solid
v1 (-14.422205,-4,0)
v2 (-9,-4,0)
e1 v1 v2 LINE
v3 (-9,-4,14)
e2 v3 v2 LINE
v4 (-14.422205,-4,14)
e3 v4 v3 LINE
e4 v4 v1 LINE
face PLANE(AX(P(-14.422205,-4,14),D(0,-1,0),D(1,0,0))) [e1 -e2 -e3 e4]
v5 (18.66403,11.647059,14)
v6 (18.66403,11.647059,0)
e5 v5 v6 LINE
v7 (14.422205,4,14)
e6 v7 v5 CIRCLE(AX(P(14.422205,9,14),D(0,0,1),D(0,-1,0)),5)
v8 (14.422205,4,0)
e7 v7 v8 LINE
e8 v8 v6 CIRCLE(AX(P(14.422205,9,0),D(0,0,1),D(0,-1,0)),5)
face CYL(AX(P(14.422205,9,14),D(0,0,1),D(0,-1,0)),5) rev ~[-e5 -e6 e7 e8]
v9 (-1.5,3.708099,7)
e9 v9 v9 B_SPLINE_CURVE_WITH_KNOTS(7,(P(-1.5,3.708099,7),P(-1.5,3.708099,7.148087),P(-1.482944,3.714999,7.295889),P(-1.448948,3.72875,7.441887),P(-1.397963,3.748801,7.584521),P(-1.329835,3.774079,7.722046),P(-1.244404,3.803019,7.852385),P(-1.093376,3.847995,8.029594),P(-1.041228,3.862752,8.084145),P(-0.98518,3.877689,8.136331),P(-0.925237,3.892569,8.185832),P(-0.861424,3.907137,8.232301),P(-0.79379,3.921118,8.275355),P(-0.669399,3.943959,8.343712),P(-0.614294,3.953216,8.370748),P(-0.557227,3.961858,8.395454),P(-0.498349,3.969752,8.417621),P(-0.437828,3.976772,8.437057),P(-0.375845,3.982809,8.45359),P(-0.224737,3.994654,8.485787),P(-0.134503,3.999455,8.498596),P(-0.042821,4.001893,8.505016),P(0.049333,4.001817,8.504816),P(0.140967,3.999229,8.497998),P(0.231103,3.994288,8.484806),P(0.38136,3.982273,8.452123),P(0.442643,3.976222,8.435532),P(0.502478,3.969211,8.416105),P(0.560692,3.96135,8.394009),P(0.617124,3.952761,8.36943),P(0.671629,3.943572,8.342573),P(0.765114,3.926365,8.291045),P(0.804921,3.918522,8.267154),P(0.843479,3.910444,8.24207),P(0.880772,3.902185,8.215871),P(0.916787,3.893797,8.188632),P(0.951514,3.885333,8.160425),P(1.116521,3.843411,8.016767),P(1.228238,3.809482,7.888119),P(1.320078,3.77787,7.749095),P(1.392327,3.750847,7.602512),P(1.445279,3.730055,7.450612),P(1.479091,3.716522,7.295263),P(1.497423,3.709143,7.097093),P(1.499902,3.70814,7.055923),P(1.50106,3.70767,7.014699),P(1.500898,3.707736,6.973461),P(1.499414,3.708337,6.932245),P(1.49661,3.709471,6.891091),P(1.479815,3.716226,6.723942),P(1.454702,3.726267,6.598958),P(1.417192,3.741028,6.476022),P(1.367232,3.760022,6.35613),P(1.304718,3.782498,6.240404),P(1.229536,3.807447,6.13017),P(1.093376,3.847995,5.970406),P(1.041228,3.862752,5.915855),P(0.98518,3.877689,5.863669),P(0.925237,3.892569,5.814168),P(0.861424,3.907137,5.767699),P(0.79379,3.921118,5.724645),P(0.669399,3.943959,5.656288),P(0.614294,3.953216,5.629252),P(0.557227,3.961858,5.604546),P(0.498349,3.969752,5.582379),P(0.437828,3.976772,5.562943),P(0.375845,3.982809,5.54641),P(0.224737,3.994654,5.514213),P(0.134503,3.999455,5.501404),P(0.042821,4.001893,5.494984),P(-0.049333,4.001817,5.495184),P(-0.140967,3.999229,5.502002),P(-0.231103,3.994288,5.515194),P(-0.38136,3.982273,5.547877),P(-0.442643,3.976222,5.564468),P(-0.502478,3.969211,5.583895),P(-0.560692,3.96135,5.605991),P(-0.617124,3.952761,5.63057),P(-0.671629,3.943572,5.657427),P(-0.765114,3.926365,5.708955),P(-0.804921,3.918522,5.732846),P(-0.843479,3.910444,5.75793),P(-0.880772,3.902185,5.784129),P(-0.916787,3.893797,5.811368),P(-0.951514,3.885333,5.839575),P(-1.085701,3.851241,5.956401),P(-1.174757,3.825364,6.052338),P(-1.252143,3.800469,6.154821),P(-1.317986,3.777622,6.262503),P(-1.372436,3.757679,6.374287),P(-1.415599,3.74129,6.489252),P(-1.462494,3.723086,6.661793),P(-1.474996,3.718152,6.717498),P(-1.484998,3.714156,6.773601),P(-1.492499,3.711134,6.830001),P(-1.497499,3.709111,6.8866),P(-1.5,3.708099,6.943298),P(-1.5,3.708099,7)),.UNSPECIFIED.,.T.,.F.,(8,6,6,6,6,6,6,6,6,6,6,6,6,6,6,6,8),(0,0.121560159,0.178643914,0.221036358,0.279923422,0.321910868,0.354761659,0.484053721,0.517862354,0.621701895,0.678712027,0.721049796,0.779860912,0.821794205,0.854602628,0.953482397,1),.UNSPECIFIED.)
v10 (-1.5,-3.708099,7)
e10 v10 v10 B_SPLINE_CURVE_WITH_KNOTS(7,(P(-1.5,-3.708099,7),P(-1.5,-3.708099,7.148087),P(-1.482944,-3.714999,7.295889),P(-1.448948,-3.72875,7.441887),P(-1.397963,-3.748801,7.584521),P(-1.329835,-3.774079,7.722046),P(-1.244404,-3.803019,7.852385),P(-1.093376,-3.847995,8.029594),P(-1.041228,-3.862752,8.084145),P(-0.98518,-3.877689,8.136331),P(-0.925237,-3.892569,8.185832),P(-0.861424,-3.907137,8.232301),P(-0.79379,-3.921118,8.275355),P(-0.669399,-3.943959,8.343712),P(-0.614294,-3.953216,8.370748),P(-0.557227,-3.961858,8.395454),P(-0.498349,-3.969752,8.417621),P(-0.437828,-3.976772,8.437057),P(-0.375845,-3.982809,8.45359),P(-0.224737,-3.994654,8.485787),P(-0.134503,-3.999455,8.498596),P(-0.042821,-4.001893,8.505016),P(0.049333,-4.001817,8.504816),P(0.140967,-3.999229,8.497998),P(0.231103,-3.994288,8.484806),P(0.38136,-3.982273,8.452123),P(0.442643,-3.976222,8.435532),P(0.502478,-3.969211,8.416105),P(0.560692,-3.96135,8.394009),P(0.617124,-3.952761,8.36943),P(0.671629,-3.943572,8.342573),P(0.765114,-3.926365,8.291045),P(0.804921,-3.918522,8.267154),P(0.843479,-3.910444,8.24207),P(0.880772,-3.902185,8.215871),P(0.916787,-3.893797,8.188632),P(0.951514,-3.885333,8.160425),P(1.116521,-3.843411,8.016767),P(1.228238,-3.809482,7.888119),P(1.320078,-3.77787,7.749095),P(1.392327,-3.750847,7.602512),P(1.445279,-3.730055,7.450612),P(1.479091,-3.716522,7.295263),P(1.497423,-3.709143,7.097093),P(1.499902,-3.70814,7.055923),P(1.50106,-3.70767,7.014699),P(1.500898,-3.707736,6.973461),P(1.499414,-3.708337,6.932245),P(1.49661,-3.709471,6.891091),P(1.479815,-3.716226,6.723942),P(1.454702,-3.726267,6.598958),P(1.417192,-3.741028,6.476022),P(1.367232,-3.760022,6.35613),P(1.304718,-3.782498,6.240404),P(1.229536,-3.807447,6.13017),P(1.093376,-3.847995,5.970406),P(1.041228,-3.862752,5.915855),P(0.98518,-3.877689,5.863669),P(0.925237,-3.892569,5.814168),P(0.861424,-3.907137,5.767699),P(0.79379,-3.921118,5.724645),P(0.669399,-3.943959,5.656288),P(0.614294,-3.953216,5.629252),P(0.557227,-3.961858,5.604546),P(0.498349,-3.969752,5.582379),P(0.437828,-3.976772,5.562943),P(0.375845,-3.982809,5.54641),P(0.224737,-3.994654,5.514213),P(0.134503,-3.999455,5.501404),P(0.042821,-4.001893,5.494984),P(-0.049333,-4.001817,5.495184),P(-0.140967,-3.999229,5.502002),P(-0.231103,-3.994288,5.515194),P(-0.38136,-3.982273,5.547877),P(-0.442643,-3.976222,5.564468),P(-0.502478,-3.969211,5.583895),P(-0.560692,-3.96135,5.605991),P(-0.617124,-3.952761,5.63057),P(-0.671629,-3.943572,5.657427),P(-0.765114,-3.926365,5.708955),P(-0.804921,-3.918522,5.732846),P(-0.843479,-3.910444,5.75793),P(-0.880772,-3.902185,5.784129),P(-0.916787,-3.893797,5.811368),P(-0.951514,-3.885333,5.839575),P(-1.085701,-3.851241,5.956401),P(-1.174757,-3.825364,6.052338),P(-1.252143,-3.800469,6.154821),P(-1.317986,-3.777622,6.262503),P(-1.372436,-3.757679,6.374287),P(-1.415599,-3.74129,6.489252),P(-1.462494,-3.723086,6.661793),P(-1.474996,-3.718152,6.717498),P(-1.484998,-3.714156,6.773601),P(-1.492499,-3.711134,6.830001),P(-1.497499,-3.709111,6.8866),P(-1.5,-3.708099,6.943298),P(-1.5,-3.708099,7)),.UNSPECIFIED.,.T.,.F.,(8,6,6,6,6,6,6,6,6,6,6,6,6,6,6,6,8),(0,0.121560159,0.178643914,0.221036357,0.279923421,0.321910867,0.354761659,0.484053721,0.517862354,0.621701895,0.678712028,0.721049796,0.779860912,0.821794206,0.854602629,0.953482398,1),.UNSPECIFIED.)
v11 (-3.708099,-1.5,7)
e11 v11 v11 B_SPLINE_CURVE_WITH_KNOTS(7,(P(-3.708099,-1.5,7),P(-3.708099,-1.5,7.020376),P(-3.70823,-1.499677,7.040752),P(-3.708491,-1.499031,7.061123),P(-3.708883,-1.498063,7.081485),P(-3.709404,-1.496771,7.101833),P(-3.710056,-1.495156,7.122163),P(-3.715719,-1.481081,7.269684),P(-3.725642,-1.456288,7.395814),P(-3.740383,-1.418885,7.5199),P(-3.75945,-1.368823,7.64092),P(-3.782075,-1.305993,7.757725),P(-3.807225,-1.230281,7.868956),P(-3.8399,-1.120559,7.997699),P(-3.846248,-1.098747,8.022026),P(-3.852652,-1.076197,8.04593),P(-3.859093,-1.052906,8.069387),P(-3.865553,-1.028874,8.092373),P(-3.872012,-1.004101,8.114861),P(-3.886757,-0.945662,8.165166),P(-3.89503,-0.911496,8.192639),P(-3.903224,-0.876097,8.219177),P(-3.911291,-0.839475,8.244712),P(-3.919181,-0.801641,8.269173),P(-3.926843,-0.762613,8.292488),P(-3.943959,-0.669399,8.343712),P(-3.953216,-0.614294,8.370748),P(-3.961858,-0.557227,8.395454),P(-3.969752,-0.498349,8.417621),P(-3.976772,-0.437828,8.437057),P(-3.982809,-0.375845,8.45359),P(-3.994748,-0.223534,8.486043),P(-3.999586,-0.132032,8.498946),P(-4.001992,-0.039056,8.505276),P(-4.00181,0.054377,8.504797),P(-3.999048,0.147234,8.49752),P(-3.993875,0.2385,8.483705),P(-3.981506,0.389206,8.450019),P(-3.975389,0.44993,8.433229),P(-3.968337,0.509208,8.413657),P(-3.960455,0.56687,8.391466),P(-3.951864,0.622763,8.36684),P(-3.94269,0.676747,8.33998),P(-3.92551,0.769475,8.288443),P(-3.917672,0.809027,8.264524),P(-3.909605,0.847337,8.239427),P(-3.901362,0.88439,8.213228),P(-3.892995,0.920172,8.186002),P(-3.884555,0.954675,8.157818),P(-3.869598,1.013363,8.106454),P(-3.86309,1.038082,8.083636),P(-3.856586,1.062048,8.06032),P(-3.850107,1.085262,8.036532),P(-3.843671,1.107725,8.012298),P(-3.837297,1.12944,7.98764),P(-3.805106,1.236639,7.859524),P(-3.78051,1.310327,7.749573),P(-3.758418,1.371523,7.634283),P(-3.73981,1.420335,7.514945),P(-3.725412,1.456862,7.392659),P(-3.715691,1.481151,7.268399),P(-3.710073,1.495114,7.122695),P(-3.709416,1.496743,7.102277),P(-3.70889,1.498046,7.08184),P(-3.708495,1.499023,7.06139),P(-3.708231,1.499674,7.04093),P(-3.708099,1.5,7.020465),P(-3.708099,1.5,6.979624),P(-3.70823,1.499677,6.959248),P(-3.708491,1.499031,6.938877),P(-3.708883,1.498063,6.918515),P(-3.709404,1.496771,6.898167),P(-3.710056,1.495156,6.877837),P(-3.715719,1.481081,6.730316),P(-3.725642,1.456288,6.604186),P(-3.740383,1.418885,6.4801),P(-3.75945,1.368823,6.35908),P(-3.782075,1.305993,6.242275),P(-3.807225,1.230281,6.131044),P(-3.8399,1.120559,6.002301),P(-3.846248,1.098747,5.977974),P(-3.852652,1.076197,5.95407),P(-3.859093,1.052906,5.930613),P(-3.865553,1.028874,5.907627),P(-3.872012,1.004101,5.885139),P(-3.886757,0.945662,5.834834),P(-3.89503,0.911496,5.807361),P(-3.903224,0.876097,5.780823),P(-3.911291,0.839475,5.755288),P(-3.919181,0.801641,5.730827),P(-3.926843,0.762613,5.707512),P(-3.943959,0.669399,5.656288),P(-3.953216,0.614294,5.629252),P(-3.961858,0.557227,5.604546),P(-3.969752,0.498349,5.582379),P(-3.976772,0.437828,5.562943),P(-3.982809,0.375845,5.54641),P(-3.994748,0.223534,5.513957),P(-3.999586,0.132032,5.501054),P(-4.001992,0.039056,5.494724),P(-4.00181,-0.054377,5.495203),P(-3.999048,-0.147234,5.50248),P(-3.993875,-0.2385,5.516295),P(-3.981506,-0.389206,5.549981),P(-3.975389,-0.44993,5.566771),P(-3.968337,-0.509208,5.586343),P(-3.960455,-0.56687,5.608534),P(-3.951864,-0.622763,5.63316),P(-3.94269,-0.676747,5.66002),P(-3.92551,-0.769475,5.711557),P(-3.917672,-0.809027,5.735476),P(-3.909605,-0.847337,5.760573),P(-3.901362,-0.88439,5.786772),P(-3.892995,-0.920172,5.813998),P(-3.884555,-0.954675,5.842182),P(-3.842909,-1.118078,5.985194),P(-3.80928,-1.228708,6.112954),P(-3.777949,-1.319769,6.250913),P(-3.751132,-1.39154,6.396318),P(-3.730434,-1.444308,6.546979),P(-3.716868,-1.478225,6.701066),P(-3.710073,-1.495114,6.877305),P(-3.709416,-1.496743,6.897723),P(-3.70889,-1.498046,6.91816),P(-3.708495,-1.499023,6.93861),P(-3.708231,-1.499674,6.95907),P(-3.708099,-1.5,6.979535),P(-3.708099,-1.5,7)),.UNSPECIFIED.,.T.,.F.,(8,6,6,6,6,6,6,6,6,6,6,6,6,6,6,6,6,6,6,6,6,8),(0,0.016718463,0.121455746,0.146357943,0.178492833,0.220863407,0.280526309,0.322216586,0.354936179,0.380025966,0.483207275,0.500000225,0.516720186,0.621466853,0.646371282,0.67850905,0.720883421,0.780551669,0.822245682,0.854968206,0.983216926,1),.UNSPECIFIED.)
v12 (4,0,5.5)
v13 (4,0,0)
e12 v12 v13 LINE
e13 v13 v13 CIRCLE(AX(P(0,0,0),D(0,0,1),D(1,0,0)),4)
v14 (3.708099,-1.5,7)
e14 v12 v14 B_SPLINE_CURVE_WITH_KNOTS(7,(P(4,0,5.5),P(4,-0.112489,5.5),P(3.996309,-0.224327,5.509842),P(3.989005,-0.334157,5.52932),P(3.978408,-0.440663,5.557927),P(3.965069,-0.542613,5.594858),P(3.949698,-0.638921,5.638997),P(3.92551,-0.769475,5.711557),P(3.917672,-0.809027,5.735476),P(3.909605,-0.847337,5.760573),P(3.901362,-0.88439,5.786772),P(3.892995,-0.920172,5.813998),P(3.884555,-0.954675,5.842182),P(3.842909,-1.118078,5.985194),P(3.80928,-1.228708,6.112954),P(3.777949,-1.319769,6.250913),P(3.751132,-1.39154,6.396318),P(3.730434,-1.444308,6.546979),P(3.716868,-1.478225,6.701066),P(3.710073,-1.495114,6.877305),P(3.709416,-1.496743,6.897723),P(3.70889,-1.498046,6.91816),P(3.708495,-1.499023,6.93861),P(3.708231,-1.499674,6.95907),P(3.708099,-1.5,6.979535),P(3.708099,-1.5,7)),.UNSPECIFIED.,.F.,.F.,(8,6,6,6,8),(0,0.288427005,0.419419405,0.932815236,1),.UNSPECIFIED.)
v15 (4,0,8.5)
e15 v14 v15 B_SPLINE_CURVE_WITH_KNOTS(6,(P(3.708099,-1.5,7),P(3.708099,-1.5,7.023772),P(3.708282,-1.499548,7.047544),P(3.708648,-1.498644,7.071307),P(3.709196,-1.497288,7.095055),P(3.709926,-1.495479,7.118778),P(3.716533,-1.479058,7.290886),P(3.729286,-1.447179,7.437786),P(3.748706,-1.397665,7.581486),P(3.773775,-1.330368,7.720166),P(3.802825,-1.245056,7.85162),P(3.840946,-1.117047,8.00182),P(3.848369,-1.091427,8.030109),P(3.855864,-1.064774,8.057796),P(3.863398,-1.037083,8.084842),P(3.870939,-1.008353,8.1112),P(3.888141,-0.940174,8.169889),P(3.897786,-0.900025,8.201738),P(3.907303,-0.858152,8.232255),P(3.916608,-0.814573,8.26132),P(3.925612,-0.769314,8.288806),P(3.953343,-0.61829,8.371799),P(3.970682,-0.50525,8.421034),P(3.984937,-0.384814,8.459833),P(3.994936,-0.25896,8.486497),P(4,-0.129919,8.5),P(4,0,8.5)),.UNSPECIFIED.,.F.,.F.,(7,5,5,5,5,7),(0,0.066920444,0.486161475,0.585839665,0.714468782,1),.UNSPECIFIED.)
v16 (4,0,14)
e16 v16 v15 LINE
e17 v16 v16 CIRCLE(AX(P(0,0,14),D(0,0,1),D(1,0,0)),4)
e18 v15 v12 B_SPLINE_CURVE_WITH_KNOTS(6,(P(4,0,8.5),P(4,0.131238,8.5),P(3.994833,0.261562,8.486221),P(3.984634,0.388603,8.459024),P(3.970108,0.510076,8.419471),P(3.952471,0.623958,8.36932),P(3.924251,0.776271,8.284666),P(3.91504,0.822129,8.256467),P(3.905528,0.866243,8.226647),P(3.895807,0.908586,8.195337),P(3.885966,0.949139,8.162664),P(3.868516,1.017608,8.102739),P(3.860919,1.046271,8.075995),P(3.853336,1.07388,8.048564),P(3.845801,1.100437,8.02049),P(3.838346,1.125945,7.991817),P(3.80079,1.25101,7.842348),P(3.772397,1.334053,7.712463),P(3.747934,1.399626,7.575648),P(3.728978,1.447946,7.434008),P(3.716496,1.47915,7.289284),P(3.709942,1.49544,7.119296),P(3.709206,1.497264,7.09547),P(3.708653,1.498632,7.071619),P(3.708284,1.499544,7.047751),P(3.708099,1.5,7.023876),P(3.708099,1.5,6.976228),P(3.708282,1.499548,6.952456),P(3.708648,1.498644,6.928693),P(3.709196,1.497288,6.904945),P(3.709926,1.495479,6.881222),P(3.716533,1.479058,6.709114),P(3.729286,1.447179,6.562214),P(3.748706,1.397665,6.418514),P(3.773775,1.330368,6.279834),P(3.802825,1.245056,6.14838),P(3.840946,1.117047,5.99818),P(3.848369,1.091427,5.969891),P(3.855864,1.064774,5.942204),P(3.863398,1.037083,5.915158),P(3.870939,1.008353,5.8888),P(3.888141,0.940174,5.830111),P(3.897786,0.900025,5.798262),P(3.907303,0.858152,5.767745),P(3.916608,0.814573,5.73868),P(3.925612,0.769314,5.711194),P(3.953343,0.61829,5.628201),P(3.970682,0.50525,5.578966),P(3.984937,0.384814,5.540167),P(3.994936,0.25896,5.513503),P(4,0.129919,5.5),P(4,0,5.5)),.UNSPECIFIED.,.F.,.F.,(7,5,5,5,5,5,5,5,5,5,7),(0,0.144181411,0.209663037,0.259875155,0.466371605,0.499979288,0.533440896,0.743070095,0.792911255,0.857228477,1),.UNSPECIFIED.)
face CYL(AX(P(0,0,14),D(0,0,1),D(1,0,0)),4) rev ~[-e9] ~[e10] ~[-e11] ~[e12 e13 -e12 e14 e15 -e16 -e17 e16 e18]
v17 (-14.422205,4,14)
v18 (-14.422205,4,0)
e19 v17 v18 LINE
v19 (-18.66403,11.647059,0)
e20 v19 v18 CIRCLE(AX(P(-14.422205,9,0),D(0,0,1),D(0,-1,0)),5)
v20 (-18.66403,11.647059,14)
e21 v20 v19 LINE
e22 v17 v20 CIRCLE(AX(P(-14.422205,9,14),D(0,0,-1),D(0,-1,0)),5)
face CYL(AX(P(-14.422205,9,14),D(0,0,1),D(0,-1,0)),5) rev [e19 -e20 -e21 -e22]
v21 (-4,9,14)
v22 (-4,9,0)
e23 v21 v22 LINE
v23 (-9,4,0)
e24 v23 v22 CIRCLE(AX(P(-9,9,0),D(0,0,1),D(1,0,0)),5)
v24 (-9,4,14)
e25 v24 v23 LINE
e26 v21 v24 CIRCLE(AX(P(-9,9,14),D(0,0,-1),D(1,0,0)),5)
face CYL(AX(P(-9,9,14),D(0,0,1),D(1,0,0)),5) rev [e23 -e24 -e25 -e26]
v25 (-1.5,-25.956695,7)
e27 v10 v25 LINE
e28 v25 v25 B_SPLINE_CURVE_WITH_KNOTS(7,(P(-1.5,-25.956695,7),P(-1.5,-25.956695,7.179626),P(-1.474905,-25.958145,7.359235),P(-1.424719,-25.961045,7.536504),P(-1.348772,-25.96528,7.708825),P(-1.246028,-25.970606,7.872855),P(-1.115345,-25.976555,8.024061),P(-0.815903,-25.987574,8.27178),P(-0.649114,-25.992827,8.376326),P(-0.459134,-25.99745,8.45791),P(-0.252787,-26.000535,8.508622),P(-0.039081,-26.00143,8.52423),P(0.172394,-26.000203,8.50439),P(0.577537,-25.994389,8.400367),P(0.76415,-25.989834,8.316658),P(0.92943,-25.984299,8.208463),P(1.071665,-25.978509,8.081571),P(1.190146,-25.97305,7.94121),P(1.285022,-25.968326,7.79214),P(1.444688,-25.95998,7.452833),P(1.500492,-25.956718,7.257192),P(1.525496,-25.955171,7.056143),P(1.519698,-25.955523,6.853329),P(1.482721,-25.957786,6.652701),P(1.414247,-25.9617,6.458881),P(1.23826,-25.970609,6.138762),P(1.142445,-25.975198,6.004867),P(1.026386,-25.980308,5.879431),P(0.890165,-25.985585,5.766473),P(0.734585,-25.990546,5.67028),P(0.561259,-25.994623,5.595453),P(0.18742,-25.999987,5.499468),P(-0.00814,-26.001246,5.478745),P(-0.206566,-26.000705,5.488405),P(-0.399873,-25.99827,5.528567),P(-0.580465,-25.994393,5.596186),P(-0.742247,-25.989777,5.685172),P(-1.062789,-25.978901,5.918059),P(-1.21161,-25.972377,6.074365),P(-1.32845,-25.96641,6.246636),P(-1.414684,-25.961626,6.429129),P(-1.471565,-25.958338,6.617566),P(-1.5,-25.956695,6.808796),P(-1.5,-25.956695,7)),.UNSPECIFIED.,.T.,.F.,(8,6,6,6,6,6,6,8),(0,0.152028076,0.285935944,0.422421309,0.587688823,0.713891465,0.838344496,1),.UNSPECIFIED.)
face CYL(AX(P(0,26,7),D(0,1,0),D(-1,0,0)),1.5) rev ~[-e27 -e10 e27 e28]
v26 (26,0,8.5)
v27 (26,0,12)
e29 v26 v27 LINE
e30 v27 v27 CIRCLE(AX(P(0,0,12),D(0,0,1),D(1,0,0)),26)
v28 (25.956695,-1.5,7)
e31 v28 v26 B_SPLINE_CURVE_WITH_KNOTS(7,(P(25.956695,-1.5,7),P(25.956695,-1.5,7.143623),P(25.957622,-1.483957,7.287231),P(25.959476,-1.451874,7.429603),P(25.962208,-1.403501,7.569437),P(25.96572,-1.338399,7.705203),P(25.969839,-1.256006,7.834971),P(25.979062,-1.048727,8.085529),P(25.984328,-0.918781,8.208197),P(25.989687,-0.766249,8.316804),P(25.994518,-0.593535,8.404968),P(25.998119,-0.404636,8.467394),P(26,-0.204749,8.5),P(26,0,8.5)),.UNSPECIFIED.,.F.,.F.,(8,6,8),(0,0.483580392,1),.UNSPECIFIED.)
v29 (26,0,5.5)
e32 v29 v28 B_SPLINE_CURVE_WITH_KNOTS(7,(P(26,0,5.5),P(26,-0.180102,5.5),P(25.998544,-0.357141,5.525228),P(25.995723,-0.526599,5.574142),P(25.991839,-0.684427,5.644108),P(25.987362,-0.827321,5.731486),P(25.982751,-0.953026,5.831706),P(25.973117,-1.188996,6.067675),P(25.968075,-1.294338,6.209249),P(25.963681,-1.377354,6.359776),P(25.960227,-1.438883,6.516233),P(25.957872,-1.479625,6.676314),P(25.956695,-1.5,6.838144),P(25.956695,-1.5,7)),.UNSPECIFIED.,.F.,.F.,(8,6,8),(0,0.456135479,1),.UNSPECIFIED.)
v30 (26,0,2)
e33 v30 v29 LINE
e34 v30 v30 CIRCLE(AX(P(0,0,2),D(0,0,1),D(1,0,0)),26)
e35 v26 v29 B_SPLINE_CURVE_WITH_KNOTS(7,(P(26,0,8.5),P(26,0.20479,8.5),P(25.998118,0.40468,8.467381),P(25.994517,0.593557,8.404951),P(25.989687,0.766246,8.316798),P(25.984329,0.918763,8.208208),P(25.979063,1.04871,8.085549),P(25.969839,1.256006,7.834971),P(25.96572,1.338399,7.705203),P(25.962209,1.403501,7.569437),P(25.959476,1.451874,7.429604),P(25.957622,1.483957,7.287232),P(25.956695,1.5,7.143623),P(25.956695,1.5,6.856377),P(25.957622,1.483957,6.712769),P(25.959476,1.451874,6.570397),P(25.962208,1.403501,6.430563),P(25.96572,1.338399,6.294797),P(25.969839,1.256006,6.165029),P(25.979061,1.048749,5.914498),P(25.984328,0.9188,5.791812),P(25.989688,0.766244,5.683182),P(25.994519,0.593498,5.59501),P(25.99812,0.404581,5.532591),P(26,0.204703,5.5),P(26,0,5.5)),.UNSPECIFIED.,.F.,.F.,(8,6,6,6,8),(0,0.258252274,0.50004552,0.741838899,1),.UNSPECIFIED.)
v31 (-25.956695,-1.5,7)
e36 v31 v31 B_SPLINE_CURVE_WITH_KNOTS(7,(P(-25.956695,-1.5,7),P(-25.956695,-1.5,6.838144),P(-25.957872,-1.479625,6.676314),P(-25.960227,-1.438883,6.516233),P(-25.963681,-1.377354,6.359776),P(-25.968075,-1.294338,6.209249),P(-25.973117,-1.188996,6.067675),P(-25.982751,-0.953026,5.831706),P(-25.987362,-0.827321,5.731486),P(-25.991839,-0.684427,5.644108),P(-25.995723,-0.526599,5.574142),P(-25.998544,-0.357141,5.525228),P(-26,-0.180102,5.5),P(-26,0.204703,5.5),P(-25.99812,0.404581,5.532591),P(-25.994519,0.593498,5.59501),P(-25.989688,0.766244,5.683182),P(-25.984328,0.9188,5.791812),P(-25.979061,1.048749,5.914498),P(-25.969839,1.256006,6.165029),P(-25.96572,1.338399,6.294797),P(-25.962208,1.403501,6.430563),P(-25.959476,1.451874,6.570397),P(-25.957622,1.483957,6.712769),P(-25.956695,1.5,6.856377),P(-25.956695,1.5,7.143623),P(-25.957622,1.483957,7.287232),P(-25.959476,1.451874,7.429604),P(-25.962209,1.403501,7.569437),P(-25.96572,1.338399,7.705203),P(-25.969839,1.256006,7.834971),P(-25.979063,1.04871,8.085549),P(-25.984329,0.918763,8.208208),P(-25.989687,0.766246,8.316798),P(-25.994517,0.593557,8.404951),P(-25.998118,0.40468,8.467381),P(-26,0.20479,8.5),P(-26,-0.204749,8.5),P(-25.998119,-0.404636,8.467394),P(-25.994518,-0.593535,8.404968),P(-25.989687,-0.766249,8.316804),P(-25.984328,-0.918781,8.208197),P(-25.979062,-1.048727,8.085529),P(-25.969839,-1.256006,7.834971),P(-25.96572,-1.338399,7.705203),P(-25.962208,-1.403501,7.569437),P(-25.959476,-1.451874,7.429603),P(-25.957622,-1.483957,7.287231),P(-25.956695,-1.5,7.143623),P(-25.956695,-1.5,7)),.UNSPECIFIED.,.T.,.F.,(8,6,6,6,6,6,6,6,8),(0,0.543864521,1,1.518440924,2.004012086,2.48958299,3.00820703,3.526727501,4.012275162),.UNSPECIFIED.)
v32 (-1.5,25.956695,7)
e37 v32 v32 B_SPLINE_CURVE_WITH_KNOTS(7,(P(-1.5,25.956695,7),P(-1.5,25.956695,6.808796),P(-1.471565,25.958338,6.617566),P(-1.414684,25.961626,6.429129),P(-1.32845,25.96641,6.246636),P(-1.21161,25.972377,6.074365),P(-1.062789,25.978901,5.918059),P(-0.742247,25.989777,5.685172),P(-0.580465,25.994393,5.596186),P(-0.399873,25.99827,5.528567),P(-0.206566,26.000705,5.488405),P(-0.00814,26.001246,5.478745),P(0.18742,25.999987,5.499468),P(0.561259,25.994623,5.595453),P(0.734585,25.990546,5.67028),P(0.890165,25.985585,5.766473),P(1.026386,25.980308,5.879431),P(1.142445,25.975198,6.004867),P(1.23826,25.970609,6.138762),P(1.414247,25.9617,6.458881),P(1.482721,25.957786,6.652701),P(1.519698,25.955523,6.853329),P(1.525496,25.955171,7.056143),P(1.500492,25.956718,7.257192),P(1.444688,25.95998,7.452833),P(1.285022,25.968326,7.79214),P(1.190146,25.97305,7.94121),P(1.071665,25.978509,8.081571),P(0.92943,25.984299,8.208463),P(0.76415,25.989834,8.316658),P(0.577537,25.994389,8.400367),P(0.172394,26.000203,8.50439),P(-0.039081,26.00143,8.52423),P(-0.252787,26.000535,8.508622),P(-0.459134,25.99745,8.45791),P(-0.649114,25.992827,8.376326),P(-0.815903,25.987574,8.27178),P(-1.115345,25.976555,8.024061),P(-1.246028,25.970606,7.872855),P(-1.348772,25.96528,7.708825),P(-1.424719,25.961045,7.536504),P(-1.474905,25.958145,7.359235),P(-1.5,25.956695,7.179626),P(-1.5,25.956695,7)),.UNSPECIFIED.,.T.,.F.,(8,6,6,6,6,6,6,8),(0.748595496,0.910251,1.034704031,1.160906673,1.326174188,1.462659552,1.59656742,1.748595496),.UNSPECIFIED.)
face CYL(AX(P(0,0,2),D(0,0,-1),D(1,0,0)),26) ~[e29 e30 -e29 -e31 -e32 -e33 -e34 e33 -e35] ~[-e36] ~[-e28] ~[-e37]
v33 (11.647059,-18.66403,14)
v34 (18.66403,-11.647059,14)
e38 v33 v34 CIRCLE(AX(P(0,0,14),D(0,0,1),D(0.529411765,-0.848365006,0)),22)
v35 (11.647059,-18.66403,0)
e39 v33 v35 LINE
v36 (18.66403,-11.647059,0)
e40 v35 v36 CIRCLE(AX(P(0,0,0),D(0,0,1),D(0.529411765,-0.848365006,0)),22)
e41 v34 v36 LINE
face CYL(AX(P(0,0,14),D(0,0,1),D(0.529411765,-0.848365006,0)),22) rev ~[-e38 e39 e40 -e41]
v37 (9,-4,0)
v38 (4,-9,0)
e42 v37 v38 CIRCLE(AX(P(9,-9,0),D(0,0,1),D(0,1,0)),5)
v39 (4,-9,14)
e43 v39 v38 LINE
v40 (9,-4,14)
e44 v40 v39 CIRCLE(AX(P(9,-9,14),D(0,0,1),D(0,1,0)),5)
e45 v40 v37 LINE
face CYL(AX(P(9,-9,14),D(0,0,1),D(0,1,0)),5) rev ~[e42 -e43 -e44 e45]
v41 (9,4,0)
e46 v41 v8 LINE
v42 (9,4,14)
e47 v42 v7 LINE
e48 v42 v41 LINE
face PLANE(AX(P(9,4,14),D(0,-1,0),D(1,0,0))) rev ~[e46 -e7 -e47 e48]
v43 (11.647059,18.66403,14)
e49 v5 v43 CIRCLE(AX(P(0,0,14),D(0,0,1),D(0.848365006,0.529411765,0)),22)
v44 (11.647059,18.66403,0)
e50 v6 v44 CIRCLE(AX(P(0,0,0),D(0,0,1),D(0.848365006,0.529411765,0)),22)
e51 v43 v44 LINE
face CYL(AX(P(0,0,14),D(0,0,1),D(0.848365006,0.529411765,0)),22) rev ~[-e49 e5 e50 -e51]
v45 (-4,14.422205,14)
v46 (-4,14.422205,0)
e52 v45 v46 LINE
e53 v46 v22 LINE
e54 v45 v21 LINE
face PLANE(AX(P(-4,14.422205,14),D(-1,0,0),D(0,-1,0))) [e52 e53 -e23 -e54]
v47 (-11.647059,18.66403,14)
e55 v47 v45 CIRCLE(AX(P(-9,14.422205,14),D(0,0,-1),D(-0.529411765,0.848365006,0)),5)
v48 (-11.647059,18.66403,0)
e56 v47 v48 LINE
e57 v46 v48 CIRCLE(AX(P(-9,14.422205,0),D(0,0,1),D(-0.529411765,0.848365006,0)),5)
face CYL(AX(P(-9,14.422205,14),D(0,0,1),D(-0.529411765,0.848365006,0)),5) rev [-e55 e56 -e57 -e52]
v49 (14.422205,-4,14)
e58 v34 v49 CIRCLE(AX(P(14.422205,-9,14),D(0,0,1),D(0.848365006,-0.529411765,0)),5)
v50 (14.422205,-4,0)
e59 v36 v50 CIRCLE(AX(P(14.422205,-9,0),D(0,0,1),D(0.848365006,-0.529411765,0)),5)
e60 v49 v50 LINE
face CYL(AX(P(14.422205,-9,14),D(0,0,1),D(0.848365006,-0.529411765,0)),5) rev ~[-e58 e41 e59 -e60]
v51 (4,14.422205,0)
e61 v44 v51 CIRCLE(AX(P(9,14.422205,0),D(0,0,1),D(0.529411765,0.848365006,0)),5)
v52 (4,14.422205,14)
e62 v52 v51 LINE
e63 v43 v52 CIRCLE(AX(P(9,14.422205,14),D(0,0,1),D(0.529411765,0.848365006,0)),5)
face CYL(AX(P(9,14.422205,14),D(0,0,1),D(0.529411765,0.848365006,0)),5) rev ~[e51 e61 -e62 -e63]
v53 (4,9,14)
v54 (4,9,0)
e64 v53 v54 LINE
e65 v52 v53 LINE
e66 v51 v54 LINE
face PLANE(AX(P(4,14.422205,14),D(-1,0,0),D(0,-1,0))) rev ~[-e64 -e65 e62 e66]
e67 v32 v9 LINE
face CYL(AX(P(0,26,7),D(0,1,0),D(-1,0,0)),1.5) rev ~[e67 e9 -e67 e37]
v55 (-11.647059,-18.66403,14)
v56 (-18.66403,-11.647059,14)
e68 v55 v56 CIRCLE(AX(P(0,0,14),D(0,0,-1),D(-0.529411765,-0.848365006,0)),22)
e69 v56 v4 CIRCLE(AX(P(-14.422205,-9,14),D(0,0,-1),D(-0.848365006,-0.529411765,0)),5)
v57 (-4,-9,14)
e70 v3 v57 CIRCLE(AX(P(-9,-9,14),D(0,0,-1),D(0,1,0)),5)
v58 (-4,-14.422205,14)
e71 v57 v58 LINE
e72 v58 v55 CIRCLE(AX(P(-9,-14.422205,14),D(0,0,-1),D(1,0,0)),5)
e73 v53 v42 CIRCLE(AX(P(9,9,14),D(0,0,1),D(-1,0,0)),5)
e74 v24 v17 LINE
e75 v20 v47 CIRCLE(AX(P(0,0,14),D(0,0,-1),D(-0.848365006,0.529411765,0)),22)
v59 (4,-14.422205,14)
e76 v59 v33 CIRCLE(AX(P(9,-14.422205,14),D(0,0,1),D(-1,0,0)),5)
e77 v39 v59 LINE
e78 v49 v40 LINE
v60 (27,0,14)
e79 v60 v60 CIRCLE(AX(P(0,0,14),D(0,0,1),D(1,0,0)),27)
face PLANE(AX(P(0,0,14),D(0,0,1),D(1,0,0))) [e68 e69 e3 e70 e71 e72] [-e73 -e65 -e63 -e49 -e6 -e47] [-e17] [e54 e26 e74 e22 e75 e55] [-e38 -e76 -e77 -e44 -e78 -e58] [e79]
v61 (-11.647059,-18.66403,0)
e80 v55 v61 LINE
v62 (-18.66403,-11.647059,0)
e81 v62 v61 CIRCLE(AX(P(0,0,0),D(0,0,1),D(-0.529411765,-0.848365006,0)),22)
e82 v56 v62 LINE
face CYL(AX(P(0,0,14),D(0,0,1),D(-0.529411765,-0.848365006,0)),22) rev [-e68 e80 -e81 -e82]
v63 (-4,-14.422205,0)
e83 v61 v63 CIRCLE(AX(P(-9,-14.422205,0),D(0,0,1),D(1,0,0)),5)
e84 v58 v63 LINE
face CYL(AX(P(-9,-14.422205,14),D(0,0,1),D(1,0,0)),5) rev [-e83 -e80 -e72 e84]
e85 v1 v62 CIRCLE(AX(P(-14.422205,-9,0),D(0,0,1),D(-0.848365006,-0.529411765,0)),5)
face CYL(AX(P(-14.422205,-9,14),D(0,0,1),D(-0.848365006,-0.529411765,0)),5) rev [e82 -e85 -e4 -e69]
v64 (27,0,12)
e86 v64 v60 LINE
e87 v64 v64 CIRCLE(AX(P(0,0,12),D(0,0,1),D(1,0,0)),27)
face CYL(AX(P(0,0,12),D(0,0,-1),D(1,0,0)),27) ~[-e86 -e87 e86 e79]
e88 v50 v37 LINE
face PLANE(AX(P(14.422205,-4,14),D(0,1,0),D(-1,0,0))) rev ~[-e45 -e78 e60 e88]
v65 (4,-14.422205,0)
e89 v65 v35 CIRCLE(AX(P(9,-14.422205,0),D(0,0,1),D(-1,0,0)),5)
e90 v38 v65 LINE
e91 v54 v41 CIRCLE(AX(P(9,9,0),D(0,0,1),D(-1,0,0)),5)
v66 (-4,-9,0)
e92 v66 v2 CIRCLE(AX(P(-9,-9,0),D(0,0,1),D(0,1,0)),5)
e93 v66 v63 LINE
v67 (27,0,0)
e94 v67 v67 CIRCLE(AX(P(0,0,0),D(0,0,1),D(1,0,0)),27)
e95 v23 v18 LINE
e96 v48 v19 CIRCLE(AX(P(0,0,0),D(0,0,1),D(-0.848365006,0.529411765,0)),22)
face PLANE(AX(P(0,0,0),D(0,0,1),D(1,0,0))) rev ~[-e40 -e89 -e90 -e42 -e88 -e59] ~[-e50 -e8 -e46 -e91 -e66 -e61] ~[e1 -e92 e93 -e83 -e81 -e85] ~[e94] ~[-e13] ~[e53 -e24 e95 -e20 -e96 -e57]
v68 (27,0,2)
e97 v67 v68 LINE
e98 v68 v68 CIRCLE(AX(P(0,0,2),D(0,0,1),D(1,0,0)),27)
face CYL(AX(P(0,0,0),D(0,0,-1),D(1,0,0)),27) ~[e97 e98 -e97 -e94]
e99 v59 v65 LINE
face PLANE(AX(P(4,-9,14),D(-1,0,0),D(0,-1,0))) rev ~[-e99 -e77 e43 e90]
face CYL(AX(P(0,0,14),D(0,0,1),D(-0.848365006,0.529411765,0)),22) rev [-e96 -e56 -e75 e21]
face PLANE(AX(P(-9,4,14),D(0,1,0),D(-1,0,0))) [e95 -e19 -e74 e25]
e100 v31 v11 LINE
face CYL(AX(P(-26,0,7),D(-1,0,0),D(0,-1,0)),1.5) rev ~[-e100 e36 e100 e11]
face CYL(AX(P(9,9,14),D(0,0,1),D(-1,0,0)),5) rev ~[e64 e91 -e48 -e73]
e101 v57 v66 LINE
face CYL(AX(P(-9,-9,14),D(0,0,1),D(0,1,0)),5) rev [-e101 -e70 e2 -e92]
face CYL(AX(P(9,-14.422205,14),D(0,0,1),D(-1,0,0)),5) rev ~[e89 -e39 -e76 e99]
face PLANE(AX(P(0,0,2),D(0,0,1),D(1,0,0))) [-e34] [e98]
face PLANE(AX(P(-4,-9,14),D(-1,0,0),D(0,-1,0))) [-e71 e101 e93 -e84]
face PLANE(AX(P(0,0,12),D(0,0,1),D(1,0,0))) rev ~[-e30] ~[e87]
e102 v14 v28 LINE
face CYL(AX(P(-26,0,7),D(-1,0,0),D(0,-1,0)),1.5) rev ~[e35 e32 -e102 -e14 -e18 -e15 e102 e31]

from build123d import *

# Parameters (mm, degrees)
ESQUISSE1_R             = 27
BOSS_EXTRU_1_DEPTH      = 2
ESQUISSE2_R             = 26
BOSS_EXTRU_2_DEPTH      = 10
ESQUISSE3_R             = 27
BOSS_EXTRU_3_DEPTH      = 2
ESQUISSE4_R             = 4
ENL_V_MAT_EXTRU_1_DEPTH = 41.669398815
ENL_V_MAT_EXTRU_2_DEPTH = 41.669398815
ESQUISSE6_R             = 1.5
ENL_V_MAT_EXTRU_3_DEPTH = 62.10646447
ESQUISSE7_R             = 1.5
ENL_V_MAT_EXTRU_4_DEPTH = 62.106464493


with BuildPart() as part:
    # Esquisse1 → Boss.-Extru.1 (new body)
    with BuildSketch(Plane.XY):
        Circle(ESQUISSE1_R)
    extrude(amount=BOSS_EXTRU_1_DEPTH)

    # Esquisse2 → Boss.-Extru.2 (add)
    with BuildSketch(Plane.XY.offset(2)):
        Circle(ESQUISSE2_R)
    extrude(amount=BOSS_EXTRU_2_DEPTH)

    # Esquisse3 → Boss.-Extru.3 (add)
    with BuildSketch(Plane.XY.offset(12)):
        Circle(ESQUISSE3_R)
    extrude(amount=BOSS_EXTRU_3_DEPTH)

    # Esquisse4 → Enlèv. mat.-Extru.1 (cut, through all)
    with BuildSketch(Plane.XY.offset(14)):
        Circle(ESQUISSE4_R)
    extrude(amount=-ENL_V_MAT_EXTRU_1_DEPTH, mode=Mode.SUBTRACT)

    # Esquisse5 → Enlèv. mat.-Extru.2 (cut, through all)
    with BuildSketch(Plane.XY.offset(14)):
        with BuildLine():
            Line((-4, 14.422205102), (-4, 9))
            ThreePointArc((-4, 9), (-5.464466094, 5.464466094), (-9, 4))
            Line((-9, 4), (-14.422205102, 4))
            ThreePointArc((-14.422205102, 4), (-18.794578263, 6.57464375), (-18.664030132, 11.647058824))
            ThreePointArc((-18.664030132, 11.647058824), (-15.556349186, 15.556349186), (-11.647058824, 18.664030132))
            ThreePointArc((-11.647058824, 18.664030132), (-6.57464375, 18.794578263), (-4, 14.422205102))
        make_face()
        with BuildLine():
            Line((4, 14.422205102), (4, 9))
            ThreePointArc((4, 9), (5.464466094, 5.464466094), (9, 4))
            Line((9, 4), (14.422205102, 4))
            ThreePointArc((14.422205102, 4), (18.794578263, 6.57464375), (18.664030132, 11.647058824))
            ThreePointArc((18.664030132, 11.647058824), (15.556349186, 15.556349186), (11.647058824, 18.664030132))
            ThreePointArc((11.647058824, 18.664030132), (6.57464375, 18.794578263), (4, 14.422205102))
        make_face()
        with BuildLine():
            Line((14.422205102, -4), (9, -4))
            ThreePointArc((9, -4), (5.464466094, -5.464466094), (4, -9))
            Line((4, -9), (4, -14.422205102))
            ThreePointArc((4, -14.422205102), (6.57464375, -18.794578263), (11.647058824, -18.664030132))
            ThreePointArc((11.647058824, -18.664030132), (15.556349186, -15.556349186), (18.664030132, -11.647058824))
            ThreePointArc((18.664030132, -11.647058824), (18.794578263, -6.57464375), (14.422205102, -4))
        make_face()
        with BuildLine():
            Line((-4, -9), (-4, -14.422205102))
            ThreePointArc((-4, -14.422205102), (-6.57464375, -18.794578263), (-11.647058824, -18.664030132))
            ThreePointArc((-11.647058824, -18.664030132), (-15.556349186, -15.556349186), (-18.664030132, -11.647058824))
            ThreePointArc((-18.664030132, -11.647058824), (-18.794578263, -6.57464375), (-14.422205102, -4))
            Line((-14.422205102, -4), (-9, -4))
            ThreePointArc((-9, -4), (-5.464466094, -5.464466094), (-4, -9))
        make_face()
    extrude(amount=-ENL_V_MAT_EXTRU_2_DEPTH, mode=Mode.SUBTRACT)

    # Esquisse6 → Enlèv. mat.-Extru.3 (cut, through all)
    with BuildSketch(Plane(origin=(0, 26, 0), x_dir=(-1, 0, 0), z_dir=(0, 1, 0))):
        with Locations((0, 7)):
            Circle(ESQUISSE6_R)
    extrude(amount=-ENL_V_MAT_EXTRU_3_DEPTH, mode=Mode.SUBTRACT)

    # Esquisse7 → Enlèv. mat.-Extru.4 (cut, through all)
    with BuildSketch(Plane.ZY.offset(26)):
        with Locations(Location((7, 0, 0), (0, 0, 270))):
            Circle(ESQUISSE7_R)
    extrude(amount=-ENL_V_MAT_EXTRU_4_DEPTH, mode=Mode.SUBTRACT)


solid = part.part
